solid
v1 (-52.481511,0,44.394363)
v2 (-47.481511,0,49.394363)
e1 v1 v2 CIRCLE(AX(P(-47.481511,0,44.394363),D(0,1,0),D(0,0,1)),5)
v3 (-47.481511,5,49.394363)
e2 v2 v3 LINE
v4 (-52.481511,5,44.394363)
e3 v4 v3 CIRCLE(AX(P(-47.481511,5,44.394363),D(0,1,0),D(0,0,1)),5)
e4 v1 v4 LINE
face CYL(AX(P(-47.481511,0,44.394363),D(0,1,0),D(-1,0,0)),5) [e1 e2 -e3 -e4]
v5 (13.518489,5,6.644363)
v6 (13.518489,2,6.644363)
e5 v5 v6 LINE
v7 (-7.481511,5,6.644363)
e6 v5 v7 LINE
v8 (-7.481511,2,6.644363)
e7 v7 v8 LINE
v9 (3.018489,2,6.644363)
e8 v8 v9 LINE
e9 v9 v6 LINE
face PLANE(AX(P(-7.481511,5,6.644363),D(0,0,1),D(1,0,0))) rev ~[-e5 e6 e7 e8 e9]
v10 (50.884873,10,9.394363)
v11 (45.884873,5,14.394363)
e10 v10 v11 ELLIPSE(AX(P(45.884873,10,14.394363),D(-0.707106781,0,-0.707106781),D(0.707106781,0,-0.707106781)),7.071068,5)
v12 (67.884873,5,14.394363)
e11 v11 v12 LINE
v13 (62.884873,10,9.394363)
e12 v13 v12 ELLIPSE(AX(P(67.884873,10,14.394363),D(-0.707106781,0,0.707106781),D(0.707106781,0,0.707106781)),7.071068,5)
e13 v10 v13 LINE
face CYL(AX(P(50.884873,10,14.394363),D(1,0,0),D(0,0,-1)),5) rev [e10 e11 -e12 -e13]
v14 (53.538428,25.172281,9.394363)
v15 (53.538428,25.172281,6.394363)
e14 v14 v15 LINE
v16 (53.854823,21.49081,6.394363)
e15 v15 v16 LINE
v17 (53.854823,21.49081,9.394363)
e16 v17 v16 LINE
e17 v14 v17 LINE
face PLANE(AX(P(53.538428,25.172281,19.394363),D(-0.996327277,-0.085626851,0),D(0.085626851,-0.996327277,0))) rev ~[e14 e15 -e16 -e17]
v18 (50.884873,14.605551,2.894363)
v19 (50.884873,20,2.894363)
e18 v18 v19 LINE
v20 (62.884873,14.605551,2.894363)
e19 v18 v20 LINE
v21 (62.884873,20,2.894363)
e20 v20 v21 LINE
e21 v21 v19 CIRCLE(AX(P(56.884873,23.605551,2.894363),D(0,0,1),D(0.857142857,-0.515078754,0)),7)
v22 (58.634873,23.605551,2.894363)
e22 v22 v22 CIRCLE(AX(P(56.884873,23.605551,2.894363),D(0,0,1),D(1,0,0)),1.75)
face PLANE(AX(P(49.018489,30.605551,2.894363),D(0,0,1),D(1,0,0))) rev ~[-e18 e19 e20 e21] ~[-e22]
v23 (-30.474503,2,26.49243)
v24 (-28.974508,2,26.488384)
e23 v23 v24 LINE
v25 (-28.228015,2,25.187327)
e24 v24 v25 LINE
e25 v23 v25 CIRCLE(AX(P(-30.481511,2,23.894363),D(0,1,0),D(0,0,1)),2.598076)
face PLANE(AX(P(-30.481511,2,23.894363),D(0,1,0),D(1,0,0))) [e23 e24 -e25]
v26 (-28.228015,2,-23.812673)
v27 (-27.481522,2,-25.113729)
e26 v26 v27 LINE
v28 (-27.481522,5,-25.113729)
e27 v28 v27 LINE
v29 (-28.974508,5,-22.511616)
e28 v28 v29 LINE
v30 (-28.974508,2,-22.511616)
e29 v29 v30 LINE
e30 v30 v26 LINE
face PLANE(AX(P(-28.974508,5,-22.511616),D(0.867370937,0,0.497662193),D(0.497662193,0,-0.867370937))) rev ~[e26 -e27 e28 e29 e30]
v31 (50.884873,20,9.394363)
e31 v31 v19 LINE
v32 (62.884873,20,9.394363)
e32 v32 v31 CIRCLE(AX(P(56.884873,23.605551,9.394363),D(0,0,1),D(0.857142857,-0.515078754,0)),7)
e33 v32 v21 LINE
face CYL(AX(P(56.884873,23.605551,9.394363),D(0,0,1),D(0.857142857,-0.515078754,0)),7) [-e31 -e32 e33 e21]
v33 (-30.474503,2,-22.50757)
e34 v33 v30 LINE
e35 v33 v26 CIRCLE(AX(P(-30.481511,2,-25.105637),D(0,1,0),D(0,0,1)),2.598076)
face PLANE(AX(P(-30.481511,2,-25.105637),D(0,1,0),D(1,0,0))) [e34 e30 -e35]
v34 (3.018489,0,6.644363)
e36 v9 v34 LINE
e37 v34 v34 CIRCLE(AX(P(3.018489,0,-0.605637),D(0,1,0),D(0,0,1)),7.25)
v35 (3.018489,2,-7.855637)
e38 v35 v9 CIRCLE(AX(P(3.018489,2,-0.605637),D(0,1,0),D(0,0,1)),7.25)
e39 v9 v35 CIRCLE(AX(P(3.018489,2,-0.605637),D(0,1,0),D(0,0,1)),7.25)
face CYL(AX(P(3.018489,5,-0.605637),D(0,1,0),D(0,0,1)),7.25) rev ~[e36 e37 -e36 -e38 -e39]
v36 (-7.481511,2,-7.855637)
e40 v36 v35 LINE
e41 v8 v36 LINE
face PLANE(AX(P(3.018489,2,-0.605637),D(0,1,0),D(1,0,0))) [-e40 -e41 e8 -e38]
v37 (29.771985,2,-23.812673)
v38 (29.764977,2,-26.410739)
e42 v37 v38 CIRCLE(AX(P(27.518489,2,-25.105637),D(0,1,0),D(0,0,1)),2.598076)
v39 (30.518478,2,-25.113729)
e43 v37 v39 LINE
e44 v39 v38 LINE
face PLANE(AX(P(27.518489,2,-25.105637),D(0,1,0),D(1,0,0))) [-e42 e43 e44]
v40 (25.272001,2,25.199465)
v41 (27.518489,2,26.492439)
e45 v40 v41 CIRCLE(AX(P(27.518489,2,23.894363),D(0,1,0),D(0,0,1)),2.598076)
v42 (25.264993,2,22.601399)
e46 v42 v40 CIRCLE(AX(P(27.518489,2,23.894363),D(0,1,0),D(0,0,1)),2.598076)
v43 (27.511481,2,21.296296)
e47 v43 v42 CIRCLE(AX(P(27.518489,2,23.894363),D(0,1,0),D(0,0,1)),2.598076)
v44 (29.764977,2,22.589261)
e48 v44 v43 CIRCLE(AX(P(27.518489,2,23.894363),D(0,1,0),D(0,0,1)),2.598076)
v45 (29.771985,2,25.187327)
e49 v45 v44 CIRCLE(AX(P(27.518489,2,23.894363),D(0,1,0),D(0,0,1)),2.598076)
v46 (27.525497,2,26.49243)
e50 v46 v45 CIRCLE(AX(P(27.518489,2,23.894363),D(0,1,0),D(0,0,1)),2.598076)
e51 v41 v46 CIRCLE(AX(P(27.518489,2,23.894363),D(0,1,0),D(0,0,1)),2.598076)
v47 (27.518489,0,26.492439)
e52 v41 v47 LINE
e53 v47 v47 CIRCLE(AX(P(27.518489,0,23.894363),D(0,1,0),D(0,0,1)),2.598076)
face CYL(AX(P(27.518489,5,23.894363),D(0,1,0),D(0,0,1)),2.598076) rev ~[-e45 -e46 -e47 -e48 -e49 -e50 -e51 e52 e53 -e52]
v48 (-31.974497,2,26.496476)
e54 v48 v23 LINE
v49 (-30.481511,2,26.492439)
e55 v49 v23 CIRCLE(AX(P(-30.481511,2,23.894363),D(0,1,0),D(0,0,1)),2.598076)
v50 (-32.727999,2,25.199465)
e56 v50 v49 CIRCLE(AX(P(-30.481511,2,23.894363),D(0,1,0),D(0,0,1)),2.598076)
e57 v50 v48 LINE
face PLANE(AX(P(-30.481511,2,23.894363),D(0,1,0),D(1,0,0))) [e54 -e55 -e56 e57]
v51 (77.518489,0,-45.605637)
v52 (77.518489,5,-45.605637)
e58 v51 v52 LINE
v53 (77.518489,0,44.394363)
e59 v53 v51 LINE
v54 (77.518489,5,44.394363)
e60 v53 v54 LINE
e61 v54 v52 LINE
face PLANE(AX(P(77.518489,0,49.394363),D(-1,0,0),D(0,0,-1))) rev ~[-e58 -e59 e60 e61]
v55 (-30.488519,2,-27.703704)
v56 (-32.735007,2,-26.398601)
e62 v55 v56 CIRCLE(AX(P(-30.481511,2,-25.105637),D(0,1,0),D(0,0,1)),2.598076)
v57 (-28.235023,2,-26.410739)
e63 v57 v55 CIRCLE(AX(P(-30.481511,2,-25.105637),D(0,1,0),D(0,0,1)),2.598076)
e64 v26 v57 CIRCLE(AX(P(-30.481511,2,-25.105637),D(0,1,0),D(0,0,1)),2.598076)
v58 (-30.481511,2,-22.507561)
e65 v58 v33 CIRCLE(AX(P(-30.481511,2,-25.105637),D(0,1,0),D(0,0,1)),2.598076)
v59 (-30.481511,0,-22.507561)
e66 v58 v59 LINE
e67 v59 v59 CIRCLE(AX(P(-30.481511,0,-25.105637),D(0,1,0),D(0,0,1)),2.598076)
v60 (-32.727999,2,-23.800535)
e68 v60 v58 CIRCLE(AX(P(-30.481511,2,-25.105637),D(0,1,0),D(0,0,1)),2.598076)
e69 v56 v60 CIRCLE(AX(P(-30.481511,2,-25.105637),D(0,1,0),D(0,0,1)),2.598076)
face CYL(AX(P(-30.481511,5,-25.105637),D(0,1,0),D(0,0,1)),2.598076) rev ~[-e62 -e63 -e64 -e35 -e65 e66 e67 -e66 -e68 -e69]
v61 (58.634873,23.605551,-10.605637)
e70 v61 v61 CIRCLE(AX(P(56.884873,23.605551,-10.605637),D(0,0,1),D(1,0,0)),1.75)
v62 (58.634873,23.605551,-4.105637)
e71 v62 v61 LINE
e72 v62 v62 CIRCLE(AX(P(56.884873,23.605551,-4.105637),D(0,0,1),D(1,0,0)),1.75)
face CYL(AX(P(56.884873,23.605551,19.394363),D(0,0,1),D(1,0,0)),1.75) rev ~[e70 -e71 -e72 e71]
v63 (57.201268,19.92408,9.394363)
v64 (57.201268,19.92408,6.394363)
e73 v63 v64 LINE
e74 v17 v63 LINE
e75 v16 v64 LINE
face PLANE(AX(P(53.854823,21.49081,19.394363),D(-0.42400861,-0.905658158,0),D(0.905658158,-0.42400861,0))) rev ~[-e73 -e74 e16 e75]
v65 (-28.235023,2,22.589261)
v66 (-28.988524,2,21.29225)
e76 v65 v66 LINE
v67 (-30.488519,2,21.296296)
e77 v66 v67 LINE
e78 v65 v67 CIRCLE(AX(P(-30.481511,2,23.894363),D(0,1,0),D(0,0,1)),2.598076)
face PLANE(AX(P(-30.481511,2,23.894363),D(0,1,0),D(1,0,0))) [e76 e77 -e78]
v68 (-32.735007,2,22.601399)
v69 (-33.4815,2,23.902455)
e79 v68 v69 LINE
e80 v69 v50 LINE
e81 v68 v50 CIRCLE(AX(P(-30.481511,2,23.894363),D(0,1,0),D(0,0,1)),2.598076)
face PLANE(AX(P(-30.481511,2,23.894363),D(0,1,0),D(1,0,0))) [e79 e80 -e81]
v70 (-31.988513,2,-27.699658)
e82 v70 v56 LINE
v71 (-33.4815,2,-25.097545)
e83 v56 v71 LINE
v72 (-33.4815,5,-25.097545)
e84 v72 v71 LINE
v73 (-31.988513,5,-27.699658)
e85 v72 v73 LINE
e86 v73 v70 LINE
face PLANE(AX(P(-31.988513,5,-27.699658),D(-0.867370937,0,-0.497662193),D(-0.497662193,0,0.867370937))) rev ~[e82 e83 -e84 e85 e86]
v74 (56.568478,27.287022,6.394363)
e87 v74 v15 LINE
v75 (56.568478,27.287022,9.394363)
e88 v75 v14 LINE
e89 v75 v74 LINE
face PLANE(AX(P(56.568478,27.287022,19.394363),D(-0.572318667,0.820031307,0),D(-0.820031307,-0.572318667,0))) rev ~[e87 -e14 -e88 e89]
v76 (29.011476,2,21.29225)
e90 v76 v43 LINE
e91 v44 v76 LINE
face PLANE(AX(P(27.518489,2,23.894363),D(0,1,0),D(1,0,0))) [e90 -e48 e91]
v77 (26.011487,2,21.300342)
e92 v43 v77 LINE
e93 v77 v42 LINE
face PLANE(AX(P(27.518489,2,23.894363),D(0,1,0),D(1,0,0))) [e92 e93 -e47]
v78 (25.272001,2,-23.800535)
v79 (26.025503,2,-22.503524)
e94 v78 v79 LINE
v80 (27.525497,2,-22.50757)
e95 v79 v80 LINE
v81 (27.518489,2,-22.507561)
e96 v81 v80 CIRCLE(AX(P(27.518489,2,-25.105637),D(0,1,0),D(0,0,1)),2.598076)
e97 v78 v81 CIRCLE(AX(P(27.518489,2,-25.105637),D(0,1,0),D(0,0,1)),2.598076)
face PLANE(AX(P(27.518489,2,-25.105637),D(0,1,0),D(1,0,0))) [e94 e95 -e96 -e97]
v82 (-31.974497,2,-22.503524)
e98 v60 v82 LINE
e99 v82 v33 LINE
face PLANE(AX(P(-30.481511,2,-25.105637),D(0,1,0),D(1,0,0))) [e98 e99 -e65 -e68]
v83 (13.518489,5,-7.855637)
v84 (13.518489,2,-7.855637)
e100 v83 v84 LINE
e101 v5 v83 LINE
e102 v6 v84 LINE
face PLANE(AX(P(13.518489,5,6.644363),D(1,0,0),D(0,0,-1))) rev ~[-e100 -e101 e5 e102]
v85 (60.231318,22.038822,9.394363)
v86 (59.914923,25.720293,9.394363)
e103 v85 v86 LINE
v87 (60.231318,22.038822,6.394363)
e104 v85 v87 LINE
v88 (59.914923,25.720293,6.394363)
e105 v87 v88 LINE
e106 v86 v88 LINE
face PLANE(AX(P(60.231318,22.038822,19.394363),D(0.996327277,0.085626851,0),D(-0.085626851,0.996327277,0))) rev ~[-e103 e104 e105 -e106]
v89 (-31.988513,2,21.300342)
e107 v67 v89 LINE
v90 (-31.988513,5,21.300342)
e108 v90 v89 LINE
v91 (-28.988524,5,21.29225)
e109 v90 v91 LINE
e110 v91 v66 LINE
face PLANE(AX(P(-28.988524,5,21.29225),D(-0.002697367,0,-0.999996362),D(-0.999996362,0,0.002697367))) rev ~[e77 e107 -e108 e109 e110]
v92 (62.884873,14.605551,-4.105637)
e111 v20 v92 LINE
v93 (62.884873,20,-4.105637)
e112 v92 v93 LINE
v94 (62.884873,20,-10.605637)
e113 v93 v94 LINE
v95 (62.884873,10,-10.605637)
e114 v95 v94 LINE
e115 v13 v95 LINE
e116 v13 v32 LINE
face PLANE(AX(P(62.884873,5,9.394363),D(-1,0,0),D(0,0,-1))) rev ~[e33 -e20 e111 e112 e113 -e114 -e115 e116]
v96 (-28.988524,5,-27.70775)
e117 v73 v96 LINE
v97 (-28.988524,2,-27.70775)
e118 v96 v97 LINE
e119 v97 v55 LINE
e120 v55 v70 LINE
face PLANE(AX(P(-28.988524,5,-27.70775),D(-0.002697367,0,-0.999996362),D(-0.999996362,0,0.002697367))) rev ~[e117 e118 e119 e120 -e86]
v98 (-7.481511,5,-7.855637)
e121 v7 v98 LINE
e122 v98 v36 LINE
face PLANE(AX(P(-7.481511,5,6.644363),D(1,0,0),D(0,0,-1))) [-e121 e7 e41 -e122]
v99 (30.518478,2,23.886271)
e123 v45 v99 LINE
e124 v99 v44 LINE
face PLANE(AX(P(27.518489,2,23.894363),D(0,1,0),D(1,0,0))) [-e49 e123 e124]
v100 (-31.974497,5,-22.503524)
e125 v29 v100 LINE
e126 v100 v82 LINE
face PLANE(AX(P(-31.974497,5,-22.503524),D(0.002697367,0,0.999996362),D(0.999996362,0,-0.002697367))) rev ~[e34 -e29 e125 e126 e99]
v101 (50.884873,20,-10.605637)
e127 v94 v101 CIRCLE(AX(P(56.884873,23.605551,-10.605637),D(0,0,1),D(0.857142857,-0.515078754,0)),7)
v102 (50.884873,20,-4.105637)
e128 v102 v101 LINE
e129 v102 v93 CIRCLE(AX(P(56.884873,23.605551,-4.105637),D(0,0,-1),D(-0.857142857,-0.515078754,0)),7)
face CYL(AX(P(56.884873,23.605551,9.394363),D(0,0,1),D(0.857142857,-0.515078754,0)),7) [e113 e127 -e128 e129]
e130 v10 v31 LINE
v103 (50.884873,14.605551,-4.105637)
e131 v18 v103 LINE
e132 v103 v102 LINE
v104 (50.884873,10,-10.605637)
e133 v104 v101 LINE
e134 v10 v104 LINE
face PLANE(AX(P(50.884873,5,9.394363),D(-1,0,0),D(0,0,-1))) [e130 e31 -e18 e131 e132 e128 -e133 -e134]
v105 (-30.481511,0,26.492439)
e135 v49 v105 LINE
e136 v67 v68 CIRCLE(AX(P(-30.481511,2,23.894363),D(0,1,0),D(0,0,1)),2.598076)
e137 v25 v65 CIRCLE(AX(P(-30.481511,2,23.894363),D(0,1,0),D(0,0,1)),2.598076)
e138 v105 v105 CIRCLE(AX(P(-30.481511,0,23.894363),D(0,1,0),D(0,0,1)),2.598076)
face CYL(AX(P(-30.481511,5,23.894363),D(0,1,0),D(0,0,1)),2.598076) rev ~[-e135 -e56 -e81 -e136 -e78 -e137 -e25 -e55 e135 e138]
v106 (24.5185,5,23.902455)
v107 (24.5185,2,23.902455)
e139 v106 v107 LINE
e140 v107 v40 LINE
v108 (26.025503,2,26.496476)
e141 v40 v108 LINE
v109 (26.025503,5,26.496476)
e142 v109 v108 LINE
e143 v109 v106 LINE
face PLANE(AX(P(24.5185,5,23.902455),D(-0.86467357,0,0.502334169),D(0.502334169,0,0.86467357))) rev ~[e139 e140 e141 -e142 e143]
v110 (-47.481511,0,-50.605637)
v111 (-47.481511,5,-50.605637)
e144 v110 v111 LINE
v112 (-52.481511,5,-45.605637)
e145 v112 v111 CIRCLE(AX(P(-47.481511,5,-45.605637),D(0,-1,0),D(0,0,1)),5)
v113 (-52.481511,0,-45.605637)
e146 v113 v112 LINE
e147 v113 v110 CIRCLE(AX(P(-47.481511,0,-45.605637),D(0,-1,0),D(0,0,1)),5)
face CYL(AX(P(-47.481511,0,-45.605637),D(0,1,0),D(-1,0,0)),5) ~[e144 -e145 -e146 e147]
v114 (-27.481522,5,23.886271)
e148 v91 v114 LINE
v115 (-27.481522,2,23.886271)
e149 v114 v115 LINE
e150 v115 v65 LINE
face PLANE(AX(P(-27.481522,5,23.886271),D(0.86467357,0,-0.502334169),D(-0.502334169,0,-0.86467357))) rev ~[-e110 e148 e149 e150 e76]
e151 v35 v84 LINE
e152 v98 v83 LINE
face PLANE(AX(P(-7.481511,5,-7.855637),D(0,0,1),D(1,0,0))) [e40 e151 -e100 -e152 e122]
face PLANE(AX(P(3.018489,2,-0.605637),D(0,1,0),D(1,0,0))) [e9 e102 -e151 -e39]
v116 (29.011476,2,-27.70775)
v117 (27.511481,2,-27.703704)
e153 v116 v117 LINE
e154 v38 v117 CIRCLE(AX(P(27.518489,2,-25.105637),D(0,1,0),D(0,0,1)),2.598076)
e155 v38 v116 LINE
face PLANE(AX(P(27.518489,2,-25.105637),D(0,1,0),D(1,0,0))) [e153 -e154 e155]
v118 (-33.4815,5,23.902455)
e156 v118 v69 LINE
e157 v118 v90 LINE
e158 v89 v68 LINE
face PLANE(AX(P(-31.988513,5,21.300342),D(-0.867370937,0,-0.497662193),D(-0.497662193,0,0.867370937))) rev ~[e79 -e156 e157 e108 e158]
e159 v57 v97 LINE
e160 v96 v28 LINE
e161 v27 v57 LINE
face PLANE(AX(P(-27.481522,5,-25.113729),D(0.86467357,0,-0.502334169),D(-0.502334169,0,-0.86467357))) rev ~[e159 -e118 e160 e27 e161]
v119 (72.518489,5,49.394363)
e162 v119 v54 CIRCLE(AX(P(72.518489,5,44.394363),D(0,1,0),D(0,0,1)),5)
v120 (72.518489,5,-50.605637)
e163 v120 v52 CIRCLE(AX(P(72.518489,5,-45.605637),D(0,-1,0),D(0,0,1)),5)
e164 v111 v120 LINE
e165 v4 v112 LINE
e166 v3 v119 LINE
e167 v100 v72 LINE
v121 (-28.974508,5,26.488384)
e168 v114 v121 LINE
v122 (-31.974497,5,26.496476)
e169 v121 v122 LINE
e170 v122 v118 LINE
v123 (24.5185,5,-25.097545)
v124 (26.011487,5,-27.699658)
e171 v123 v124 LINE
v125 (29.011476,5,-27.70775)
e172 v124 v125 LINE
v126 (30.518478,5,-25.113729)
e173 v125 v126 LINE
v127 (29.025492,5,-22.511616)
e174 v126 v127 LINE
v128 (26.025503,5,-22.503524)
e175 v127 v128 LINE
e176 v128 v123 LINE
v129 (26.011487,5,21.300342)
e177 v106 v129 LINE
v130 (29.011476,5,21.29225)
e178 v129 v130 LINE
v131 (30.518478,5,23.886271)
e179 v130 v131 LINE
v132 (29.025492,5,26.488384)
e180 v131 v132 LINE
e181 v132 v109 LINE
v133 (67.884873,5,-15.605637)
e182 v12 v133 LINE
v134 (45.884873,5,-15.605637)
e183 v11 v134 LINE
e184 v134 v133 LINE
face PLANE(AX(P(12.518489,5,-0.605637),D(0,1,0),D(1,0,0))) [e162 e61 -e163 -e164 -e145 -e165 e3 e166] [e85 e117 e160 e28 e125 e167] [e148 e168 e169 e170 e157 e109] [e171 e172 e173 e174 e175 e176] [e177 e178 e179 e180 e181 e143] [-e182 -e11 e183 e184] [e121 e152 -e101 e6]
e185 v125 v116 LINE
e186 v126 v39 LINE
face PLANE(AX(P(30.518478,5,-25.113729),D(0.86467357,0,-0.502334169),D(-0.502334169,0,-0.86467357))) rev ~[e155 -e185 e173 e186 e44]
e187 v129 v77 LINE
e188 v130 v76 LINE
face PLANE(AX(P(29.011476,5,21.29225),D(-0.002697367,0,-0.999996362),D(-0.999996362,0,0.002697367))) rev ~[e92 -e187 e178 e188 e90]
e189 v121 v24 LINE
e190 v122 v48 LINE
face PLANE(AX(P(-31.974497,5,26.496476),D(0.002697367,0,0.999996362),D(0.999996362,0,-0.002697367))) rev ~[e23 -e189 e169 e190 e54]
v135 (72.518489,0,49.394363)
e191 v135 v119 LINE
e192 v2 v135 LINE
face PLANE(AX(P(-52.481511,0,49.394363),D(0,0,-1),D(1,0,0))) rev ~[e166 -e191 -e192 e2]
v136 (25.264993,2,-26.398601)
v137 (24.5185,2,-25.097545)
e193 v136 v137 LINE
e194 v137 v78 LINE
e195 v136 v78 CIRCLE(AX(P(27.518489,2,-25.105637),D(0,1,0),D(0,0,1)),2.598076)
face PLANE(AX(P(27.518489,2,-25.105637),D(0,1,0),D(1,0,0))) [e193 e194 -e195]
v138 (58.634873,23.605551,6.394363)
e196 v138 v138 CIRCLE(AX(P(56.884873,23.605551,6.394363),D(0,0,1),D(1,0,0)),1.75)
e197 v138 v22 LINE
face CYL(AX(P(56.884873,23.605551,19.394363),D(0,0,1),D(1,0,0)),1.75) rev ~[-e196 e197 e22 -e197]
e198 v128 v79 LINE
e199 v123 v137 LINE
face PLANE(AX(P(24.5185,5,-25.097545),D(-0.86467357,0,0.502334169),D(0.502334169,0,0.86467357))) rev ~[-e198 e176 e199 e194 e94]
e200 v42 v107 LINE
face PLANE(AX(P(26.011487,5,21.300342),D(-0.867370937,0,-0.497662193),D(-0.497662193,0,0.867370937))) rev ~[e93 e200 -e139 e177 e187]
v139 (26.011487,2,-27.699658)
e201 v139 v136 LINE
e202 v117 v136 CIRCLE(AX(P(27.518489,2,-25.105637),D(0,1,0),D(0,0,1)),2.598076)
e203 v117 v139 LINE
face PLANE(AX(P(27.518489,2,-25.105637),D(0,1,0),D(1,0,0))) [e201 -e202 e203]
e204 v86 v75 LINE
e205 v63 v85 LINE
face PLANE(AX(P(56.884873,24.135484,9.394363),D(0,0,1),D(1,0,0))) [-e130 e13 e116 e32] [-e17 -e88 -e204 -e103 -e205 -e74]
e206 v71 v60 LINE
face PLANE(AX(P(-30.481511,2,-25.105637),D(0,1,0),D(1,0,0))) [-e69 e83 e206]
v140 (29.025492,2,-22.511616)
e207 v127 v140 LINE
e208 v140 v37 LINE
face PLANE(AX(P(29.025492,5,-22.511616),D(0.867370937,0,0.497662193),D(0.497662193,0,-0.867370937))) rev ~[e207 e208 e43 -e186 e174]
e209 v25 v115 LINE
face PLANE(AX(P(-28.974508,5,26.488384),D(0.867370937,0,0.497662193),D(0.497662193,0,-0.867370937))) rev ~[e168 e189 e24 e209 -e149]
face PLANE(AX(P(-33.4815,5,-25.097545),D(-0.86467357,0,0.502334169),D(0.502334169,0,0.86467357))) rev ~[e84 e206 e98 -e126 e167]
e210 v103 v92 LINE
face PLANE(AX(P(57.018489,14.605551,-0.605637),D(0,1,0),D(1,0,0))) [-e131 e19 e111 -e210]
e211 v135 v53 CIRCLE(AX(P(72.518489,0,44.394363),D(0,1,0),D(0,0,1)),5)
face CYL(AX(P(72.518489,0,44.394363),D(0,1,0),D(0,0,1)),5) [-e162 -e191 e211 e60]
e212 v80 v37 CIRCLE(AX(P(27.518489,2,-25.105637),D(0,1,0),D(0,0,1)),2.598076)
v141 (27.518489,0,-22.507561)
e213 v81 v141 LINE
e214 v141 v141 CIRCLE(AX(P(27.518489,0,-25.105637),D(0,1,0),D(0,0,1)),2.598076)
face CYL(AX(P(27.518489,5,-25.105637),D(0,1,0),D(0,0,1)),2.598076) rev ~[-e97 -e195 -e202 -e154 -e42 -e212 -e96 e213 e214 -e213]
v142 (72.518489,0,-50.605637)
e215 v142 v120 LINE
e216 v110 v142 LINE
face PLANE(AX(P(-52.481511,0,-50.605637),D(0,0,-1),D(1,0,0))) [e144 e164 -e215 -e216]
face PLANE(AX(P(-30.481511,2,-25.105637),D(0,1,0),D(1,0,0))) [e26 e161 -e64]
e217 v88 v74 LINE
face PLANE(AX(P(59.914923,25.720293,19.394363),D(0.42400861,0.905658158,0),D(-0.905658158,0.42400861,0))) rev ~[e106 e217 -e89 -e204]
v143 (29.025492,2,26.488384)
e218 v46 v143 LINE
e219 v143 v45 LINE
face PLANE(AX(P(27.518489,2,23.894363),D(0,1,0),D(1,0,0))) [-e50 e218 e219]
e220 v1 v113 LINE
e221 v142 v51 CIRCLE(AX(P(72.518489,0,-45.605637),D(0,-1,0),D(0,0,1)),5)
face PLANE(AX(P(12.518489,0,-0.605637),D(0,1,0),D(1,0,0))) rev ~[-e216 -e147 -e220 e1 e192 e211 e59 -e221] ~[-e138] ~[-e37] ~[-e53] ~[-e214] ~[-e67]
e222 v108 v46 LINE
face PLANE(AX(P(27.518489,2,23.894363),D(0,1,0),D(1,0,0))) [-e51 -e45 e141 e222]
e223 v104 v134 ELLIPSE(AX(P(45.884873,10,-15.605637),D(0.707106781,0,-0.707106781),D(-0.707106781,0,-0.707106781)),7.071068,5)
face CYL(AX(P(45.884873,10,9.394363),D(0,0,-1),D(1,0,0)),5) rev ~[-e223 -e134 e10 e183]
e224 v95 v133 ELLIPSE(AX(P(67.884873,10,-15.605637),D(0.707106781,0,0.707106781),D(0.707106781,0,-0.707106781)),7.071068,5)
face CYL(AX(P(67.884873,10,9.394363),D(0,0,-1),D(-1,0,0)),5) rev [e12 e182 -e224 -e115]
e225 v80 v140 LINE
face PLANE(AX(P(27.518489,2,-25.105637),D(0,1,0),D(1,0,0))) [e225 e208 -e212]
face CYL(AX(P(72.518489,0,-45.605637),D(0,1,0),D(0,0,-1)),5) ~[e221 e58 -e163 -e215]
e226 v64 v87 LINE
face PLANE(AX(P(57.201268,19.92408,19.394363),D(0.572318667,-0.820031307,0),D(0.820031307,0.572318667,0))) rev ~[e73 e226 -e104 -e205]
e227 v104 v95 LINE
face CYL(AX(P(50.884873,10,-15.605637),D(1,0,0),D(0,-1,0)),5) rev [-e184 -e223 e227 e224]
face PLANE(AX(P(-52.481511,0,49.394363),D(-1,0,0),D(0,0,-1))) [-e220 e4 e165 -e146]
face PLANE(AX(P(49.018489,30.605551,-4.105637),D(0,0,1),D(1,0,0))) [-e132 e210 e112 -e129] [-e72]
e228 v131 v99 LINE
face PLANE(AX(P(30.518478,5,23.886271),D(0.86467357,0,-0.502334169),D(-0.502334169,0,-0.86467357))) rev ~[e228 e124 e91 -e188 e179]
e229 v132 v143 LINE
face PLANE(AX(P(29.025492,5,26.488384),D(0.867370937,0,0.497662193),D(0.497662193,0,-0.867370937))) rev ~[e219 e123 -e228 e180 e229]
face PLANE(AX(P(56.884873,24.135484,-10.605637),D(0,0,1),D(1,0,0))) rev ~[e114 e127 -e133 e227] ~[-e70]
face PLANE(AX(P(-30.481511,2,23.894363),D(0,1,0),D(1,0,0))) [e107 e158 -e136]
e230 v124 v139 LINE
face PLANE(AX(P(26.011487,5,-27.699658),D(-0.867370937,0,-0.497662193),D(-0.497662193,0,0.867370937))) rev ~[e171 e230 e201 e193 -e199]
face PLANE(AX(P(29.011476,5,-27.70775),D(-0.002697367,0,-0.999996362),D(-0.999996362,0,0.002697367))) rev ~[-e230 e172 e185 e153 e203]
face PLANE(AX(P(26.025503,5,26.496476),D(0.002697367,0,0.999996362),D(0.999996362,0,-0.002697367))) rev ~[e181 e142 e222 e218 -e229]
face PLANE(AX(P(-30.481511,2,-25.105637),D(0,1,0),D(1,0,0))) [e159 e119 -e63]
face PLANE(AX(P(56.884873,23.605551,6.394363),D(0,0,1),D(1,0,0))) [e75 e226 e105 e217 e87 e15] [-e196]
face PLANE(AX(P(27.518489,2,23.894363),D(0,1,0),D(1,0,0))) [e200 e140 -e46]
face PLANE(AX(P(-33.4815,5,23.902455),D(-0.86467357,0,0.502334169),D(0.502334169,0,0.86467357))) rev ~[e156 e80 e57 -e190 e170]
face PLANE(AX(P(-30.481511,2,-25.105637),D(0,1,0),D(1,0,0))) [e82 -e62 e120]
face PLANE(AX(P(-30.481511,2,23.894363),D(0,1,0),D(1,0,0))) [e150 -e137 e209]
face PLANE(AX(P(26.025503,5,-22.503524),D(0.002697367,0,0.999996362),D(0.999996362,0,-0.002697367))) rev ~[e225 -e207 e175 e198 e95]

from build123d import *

# Parameters (mm, degrees)
ESQUISSE1_W                     = 130
ESQUISSE1_H                     = 100
BOSS_EXTRU_1_DEPTH              = 5
ENL_V_MAT_EXTRU_3_DEPTH         = 3
R_P_TITION_LIN_AIRE1_COUNT      = 2
R_P_TITION_LIN_AIRE1_PITCH      = 58
R_P_TITION_LIN_AIRE1_COUNT_DIR2 = 2
R_P_TITION_LIN_AIRE1_PITCH_DIR2 = 49
ESQUISSE8_R                     = 2.598076211
ENL_V_MAT_EXTRU_4_DEPTH         = 93.709474566
R_P_TITION_LIN_AIRE2_COUNT      = 2
R_P_TITION_LIN_AIRE2_PITCH      = 58
R_P_TITION_LIN_AIRE2_COUNT_DIR2 = 2
R_P_TITION_LIN_AIRE2_PITCH_DIR2 = 49
ESQUISSE9_W                     = 12
ESQUISSE9_H                     = 20
BOSS_EXTRU_2_DEPTH              = 15
BOSS_EXTRU_3_DEPTH              = 20
ESQUISSE14_W                    = 16
ESQUISSE14_H                    = 7
ENL_V_MAT_EXTRU_6_DEPTH         = 16
ENL_V_MAT_EXTRU_7_DEPTH         = 13
ESQUISSE18_R                    = 1.75
ENL_V_MAT_EXTRU_8_DEPTH         = 33
CONG_1_R                        = 5
CONG_2_R                        = 5
ESQUISSE19_W                    = 21
ESQUISSE19_H                    = 14.5
ENL_V_MAT_EXTRU_9_DEPTH         = 3
ESQUISSE20_R                    = 7.25
ENL_V_MAT_EXTRU_10_DEPTH        = 12


with BuildPart() as part:
    # Esquisse1 → Boss.-Extru.1 (new body)
    with BuildSketch(Plane(origin=(0, 0, 0), x_dir=(1, 0, 0), z_dir=(0, 1, 0))):
        with Locations((12.518489284, 0.605636973)):
            Rectangle(ESQUISSE1_W, ESQUISSE1_H)
    extrude(amount=BOSS_EXTRU_1_DEPTH)

    # Esquisse5 → Enlèv. mat.-Extru.3 (cut)
    with BuildSketch(Plane(origin=(0, 5, 0), x_dir=(1, 0, 0), z_dir=(0, 1, 0))):
        Polygon((-28.974508208, 22.511616263), (-27.48152163, 25.113729073), (-28.988524137, 27.707749783), (-31.988513224, 27.699657683), (-33.481499802, 25.097544873), (-31.974497295, 22.503524163), align=None)
    enl_v_mat_extru_3 = extrude(amount=-ENL_V_MAT_EXTRU_3_DEPTH, mode=Mode.SUBTRACT)

    # Répétition linéaire1: Enl_v. mat.-Extru.3 2 × 2
    with Locations(*[(i * R_P_TITION_LIN_AIRE1_PITCH, 0, j * R_P_TITION_LIN_AIRE1_PITCH_DIR2) for i in range(R_P_TITION_LIN_AIRE1_COUNT) for j in range(R_P_TITION_LIN_AIRE1_COUNT_DIR2) if (i, j) != (0, 0)]):
        add(enl_v_mat_extru_3, mode=Mode.SUBTRACT)

    # Esquisse8 → Enlèv. mat.-Extru.4 (cut, through all)
    with BuildSketch(Plane(origin=(0, 5, 0), x_dir=(1, 0, 0), z_dir=(0, 1, 0))):
        with Locations(Location((-30.481510716, 25.105636973, 0), (0, 0, 270))):
            Circle(ESQUISSE8_R)
    enl_v_mat_extru_4 = extrude(amount=-ENL_V_MAT_EXTRU_4_DEPTH, mode=Mode.SUBTRACT)

    # Répétition linéaire2: Enl_v. mat.-Extru.4 2 × 2
    with Locations(*[(i * R_P_TITION_LIN_AIRE2_PITCH, 0, j * R_P_TITION_LIN_AIRE2_PITCH_DIR2) for i in range(R_P_TITION_LIN_AIRE2_COUNT) for j in range(R_P_TITION_LIN_AIRE2_COUNT_DIR2) if (i, j) != (0, 0)]):
        add(enl_v_mat_extru_4, mode=Mode.SUBTRACT)

    # Esquisse9 → Boss.-Extru.2 (add)
    with BuildSketch(Plane(origin=(0, 5, 0), x_dir=(1, 0, 0), z_dir=(0, 1, 0))):
        with Locations((56.884872881, 0.605636973)):
            Rectangle(ESQUISSE9_W, ESQUISSE9_H)
    extrude(amount=BOSS_EXTRU_2_DEPTH)

    # Esquisse10 → Boss.-Extru.3 (add)
    with BuildSketch(Plane.XY.offset(9.394363027)):
        with BuildLine():
            Line((50.884872881, 20), (62.884872881, 20))
            ThreePointArc((62.884872881, 20), (56.884872881, 30.605551275), (50.884872881, 20))
        make_face()
    extrude(amount=-BOSS_EXTRU_3_DEPTH)

    # Esquisse14 → Enlèv. mat.-Extru.6 (cut)
    with BuildSketch(Plane(origin=(0, 30.605551275, 0), x_dir=(1, 0, 0), z_dir=(0, 1, 0))):
        with Locations((57.018489284, 0.605636973)):
            Rectangle(ESQUISSE14_W, ESQUISSE14_H)
    extrude(amount=-ENL_V_MAT_EXTRU_6_DEPTH, mode=Mode.SUBTRACT)

    # Esquisse17 → Enlèv. mat.-Extru.7 (cut)
    with BuildSketch(Plane.XY.offset(19.394363027)):
        Polygon((60.23131756, 22.03882177), (59.914922773, 25.720292627), (56.568478094, 27.287022133), (53.538428202, 25.172280781), (53.854822989, 21.490809924), (57.201267668, 19.924080418), align=None)
    extrude(amount=-ENL_V_MAT_EXTRU_7_DEPTH, mode=Mode.SUBTRACT)

    # Esquisse18 → Enlèv. mat.-Extru.8 (cut)
    with BuildSketch(Plane.XY.offset(19.394363027)):
        with Locations((56.884872881, 23.605551275)):
            Circle(ESQUISSE18_R)
    extrude(amount=-ENL_V_MAT_EXTRU_8_DEPTH, mode=Mode.SUBTRACT)

    # Congé1
    cong_1_edges = [part.edges().sort_by_distance(p)[0] for p in [
        (50.884872881, 5, -0.605636973),
        (56.884872881, 5, 9.394363027),
        (62.884872881, 5, -0.605636973),
        (56.884872881, 5, -10.605636973),
    ]]
    fillet(cong_1_edges, radius=CONG_1_R)

    # Congé2
    cong_2_edges = [part.edges().sort_by_distance(p)[0] for p in [
        (-52.481510716, 2.5, -50.605636973),
        (77.518489284, 2.5, -50.605636973),
        (77.518489284, 2.5, 49.394363027),
        (-52.481510716, 2.5, 49.394363027),
    ]]
    fillet(cong_2_edges, radius=CONG_2_R)

    # Esquisse19 → Enlèv. mat.-Extru.9 (cut)
    with BuildSketch(Plane(origin=(0, 5, 0), x_dir=(1, 0, 0), z_dir=(0, 1, 0))):
        with Locations((3.018489284, 0.605636973)):
            Rectangle(ESQUISSE19_W, ESQUISSE19_H)
    extrude(amount=-ENL_V_MAT_EXTRU_9_DEPTH, mode=Mode.SUBTRACT)

    # Esquisse20 → Enlèv. mat.-Extru.10 (cut)
    with BuildSketch(Plane(origin=(0, 5, 0), x_dir=(1, 0, 0), z_dir=(0, 1, 0))):
        with Locations(Location((3.018489284, 0.605636973, 0), (0, 0, 270))):
            Circle(ESQUISSE20_R)
    extrude(amount=-ENL_V_MAT_EXTRU_10_DEPTH, mode=Mode.SUBTRACT)


solid = part.part
